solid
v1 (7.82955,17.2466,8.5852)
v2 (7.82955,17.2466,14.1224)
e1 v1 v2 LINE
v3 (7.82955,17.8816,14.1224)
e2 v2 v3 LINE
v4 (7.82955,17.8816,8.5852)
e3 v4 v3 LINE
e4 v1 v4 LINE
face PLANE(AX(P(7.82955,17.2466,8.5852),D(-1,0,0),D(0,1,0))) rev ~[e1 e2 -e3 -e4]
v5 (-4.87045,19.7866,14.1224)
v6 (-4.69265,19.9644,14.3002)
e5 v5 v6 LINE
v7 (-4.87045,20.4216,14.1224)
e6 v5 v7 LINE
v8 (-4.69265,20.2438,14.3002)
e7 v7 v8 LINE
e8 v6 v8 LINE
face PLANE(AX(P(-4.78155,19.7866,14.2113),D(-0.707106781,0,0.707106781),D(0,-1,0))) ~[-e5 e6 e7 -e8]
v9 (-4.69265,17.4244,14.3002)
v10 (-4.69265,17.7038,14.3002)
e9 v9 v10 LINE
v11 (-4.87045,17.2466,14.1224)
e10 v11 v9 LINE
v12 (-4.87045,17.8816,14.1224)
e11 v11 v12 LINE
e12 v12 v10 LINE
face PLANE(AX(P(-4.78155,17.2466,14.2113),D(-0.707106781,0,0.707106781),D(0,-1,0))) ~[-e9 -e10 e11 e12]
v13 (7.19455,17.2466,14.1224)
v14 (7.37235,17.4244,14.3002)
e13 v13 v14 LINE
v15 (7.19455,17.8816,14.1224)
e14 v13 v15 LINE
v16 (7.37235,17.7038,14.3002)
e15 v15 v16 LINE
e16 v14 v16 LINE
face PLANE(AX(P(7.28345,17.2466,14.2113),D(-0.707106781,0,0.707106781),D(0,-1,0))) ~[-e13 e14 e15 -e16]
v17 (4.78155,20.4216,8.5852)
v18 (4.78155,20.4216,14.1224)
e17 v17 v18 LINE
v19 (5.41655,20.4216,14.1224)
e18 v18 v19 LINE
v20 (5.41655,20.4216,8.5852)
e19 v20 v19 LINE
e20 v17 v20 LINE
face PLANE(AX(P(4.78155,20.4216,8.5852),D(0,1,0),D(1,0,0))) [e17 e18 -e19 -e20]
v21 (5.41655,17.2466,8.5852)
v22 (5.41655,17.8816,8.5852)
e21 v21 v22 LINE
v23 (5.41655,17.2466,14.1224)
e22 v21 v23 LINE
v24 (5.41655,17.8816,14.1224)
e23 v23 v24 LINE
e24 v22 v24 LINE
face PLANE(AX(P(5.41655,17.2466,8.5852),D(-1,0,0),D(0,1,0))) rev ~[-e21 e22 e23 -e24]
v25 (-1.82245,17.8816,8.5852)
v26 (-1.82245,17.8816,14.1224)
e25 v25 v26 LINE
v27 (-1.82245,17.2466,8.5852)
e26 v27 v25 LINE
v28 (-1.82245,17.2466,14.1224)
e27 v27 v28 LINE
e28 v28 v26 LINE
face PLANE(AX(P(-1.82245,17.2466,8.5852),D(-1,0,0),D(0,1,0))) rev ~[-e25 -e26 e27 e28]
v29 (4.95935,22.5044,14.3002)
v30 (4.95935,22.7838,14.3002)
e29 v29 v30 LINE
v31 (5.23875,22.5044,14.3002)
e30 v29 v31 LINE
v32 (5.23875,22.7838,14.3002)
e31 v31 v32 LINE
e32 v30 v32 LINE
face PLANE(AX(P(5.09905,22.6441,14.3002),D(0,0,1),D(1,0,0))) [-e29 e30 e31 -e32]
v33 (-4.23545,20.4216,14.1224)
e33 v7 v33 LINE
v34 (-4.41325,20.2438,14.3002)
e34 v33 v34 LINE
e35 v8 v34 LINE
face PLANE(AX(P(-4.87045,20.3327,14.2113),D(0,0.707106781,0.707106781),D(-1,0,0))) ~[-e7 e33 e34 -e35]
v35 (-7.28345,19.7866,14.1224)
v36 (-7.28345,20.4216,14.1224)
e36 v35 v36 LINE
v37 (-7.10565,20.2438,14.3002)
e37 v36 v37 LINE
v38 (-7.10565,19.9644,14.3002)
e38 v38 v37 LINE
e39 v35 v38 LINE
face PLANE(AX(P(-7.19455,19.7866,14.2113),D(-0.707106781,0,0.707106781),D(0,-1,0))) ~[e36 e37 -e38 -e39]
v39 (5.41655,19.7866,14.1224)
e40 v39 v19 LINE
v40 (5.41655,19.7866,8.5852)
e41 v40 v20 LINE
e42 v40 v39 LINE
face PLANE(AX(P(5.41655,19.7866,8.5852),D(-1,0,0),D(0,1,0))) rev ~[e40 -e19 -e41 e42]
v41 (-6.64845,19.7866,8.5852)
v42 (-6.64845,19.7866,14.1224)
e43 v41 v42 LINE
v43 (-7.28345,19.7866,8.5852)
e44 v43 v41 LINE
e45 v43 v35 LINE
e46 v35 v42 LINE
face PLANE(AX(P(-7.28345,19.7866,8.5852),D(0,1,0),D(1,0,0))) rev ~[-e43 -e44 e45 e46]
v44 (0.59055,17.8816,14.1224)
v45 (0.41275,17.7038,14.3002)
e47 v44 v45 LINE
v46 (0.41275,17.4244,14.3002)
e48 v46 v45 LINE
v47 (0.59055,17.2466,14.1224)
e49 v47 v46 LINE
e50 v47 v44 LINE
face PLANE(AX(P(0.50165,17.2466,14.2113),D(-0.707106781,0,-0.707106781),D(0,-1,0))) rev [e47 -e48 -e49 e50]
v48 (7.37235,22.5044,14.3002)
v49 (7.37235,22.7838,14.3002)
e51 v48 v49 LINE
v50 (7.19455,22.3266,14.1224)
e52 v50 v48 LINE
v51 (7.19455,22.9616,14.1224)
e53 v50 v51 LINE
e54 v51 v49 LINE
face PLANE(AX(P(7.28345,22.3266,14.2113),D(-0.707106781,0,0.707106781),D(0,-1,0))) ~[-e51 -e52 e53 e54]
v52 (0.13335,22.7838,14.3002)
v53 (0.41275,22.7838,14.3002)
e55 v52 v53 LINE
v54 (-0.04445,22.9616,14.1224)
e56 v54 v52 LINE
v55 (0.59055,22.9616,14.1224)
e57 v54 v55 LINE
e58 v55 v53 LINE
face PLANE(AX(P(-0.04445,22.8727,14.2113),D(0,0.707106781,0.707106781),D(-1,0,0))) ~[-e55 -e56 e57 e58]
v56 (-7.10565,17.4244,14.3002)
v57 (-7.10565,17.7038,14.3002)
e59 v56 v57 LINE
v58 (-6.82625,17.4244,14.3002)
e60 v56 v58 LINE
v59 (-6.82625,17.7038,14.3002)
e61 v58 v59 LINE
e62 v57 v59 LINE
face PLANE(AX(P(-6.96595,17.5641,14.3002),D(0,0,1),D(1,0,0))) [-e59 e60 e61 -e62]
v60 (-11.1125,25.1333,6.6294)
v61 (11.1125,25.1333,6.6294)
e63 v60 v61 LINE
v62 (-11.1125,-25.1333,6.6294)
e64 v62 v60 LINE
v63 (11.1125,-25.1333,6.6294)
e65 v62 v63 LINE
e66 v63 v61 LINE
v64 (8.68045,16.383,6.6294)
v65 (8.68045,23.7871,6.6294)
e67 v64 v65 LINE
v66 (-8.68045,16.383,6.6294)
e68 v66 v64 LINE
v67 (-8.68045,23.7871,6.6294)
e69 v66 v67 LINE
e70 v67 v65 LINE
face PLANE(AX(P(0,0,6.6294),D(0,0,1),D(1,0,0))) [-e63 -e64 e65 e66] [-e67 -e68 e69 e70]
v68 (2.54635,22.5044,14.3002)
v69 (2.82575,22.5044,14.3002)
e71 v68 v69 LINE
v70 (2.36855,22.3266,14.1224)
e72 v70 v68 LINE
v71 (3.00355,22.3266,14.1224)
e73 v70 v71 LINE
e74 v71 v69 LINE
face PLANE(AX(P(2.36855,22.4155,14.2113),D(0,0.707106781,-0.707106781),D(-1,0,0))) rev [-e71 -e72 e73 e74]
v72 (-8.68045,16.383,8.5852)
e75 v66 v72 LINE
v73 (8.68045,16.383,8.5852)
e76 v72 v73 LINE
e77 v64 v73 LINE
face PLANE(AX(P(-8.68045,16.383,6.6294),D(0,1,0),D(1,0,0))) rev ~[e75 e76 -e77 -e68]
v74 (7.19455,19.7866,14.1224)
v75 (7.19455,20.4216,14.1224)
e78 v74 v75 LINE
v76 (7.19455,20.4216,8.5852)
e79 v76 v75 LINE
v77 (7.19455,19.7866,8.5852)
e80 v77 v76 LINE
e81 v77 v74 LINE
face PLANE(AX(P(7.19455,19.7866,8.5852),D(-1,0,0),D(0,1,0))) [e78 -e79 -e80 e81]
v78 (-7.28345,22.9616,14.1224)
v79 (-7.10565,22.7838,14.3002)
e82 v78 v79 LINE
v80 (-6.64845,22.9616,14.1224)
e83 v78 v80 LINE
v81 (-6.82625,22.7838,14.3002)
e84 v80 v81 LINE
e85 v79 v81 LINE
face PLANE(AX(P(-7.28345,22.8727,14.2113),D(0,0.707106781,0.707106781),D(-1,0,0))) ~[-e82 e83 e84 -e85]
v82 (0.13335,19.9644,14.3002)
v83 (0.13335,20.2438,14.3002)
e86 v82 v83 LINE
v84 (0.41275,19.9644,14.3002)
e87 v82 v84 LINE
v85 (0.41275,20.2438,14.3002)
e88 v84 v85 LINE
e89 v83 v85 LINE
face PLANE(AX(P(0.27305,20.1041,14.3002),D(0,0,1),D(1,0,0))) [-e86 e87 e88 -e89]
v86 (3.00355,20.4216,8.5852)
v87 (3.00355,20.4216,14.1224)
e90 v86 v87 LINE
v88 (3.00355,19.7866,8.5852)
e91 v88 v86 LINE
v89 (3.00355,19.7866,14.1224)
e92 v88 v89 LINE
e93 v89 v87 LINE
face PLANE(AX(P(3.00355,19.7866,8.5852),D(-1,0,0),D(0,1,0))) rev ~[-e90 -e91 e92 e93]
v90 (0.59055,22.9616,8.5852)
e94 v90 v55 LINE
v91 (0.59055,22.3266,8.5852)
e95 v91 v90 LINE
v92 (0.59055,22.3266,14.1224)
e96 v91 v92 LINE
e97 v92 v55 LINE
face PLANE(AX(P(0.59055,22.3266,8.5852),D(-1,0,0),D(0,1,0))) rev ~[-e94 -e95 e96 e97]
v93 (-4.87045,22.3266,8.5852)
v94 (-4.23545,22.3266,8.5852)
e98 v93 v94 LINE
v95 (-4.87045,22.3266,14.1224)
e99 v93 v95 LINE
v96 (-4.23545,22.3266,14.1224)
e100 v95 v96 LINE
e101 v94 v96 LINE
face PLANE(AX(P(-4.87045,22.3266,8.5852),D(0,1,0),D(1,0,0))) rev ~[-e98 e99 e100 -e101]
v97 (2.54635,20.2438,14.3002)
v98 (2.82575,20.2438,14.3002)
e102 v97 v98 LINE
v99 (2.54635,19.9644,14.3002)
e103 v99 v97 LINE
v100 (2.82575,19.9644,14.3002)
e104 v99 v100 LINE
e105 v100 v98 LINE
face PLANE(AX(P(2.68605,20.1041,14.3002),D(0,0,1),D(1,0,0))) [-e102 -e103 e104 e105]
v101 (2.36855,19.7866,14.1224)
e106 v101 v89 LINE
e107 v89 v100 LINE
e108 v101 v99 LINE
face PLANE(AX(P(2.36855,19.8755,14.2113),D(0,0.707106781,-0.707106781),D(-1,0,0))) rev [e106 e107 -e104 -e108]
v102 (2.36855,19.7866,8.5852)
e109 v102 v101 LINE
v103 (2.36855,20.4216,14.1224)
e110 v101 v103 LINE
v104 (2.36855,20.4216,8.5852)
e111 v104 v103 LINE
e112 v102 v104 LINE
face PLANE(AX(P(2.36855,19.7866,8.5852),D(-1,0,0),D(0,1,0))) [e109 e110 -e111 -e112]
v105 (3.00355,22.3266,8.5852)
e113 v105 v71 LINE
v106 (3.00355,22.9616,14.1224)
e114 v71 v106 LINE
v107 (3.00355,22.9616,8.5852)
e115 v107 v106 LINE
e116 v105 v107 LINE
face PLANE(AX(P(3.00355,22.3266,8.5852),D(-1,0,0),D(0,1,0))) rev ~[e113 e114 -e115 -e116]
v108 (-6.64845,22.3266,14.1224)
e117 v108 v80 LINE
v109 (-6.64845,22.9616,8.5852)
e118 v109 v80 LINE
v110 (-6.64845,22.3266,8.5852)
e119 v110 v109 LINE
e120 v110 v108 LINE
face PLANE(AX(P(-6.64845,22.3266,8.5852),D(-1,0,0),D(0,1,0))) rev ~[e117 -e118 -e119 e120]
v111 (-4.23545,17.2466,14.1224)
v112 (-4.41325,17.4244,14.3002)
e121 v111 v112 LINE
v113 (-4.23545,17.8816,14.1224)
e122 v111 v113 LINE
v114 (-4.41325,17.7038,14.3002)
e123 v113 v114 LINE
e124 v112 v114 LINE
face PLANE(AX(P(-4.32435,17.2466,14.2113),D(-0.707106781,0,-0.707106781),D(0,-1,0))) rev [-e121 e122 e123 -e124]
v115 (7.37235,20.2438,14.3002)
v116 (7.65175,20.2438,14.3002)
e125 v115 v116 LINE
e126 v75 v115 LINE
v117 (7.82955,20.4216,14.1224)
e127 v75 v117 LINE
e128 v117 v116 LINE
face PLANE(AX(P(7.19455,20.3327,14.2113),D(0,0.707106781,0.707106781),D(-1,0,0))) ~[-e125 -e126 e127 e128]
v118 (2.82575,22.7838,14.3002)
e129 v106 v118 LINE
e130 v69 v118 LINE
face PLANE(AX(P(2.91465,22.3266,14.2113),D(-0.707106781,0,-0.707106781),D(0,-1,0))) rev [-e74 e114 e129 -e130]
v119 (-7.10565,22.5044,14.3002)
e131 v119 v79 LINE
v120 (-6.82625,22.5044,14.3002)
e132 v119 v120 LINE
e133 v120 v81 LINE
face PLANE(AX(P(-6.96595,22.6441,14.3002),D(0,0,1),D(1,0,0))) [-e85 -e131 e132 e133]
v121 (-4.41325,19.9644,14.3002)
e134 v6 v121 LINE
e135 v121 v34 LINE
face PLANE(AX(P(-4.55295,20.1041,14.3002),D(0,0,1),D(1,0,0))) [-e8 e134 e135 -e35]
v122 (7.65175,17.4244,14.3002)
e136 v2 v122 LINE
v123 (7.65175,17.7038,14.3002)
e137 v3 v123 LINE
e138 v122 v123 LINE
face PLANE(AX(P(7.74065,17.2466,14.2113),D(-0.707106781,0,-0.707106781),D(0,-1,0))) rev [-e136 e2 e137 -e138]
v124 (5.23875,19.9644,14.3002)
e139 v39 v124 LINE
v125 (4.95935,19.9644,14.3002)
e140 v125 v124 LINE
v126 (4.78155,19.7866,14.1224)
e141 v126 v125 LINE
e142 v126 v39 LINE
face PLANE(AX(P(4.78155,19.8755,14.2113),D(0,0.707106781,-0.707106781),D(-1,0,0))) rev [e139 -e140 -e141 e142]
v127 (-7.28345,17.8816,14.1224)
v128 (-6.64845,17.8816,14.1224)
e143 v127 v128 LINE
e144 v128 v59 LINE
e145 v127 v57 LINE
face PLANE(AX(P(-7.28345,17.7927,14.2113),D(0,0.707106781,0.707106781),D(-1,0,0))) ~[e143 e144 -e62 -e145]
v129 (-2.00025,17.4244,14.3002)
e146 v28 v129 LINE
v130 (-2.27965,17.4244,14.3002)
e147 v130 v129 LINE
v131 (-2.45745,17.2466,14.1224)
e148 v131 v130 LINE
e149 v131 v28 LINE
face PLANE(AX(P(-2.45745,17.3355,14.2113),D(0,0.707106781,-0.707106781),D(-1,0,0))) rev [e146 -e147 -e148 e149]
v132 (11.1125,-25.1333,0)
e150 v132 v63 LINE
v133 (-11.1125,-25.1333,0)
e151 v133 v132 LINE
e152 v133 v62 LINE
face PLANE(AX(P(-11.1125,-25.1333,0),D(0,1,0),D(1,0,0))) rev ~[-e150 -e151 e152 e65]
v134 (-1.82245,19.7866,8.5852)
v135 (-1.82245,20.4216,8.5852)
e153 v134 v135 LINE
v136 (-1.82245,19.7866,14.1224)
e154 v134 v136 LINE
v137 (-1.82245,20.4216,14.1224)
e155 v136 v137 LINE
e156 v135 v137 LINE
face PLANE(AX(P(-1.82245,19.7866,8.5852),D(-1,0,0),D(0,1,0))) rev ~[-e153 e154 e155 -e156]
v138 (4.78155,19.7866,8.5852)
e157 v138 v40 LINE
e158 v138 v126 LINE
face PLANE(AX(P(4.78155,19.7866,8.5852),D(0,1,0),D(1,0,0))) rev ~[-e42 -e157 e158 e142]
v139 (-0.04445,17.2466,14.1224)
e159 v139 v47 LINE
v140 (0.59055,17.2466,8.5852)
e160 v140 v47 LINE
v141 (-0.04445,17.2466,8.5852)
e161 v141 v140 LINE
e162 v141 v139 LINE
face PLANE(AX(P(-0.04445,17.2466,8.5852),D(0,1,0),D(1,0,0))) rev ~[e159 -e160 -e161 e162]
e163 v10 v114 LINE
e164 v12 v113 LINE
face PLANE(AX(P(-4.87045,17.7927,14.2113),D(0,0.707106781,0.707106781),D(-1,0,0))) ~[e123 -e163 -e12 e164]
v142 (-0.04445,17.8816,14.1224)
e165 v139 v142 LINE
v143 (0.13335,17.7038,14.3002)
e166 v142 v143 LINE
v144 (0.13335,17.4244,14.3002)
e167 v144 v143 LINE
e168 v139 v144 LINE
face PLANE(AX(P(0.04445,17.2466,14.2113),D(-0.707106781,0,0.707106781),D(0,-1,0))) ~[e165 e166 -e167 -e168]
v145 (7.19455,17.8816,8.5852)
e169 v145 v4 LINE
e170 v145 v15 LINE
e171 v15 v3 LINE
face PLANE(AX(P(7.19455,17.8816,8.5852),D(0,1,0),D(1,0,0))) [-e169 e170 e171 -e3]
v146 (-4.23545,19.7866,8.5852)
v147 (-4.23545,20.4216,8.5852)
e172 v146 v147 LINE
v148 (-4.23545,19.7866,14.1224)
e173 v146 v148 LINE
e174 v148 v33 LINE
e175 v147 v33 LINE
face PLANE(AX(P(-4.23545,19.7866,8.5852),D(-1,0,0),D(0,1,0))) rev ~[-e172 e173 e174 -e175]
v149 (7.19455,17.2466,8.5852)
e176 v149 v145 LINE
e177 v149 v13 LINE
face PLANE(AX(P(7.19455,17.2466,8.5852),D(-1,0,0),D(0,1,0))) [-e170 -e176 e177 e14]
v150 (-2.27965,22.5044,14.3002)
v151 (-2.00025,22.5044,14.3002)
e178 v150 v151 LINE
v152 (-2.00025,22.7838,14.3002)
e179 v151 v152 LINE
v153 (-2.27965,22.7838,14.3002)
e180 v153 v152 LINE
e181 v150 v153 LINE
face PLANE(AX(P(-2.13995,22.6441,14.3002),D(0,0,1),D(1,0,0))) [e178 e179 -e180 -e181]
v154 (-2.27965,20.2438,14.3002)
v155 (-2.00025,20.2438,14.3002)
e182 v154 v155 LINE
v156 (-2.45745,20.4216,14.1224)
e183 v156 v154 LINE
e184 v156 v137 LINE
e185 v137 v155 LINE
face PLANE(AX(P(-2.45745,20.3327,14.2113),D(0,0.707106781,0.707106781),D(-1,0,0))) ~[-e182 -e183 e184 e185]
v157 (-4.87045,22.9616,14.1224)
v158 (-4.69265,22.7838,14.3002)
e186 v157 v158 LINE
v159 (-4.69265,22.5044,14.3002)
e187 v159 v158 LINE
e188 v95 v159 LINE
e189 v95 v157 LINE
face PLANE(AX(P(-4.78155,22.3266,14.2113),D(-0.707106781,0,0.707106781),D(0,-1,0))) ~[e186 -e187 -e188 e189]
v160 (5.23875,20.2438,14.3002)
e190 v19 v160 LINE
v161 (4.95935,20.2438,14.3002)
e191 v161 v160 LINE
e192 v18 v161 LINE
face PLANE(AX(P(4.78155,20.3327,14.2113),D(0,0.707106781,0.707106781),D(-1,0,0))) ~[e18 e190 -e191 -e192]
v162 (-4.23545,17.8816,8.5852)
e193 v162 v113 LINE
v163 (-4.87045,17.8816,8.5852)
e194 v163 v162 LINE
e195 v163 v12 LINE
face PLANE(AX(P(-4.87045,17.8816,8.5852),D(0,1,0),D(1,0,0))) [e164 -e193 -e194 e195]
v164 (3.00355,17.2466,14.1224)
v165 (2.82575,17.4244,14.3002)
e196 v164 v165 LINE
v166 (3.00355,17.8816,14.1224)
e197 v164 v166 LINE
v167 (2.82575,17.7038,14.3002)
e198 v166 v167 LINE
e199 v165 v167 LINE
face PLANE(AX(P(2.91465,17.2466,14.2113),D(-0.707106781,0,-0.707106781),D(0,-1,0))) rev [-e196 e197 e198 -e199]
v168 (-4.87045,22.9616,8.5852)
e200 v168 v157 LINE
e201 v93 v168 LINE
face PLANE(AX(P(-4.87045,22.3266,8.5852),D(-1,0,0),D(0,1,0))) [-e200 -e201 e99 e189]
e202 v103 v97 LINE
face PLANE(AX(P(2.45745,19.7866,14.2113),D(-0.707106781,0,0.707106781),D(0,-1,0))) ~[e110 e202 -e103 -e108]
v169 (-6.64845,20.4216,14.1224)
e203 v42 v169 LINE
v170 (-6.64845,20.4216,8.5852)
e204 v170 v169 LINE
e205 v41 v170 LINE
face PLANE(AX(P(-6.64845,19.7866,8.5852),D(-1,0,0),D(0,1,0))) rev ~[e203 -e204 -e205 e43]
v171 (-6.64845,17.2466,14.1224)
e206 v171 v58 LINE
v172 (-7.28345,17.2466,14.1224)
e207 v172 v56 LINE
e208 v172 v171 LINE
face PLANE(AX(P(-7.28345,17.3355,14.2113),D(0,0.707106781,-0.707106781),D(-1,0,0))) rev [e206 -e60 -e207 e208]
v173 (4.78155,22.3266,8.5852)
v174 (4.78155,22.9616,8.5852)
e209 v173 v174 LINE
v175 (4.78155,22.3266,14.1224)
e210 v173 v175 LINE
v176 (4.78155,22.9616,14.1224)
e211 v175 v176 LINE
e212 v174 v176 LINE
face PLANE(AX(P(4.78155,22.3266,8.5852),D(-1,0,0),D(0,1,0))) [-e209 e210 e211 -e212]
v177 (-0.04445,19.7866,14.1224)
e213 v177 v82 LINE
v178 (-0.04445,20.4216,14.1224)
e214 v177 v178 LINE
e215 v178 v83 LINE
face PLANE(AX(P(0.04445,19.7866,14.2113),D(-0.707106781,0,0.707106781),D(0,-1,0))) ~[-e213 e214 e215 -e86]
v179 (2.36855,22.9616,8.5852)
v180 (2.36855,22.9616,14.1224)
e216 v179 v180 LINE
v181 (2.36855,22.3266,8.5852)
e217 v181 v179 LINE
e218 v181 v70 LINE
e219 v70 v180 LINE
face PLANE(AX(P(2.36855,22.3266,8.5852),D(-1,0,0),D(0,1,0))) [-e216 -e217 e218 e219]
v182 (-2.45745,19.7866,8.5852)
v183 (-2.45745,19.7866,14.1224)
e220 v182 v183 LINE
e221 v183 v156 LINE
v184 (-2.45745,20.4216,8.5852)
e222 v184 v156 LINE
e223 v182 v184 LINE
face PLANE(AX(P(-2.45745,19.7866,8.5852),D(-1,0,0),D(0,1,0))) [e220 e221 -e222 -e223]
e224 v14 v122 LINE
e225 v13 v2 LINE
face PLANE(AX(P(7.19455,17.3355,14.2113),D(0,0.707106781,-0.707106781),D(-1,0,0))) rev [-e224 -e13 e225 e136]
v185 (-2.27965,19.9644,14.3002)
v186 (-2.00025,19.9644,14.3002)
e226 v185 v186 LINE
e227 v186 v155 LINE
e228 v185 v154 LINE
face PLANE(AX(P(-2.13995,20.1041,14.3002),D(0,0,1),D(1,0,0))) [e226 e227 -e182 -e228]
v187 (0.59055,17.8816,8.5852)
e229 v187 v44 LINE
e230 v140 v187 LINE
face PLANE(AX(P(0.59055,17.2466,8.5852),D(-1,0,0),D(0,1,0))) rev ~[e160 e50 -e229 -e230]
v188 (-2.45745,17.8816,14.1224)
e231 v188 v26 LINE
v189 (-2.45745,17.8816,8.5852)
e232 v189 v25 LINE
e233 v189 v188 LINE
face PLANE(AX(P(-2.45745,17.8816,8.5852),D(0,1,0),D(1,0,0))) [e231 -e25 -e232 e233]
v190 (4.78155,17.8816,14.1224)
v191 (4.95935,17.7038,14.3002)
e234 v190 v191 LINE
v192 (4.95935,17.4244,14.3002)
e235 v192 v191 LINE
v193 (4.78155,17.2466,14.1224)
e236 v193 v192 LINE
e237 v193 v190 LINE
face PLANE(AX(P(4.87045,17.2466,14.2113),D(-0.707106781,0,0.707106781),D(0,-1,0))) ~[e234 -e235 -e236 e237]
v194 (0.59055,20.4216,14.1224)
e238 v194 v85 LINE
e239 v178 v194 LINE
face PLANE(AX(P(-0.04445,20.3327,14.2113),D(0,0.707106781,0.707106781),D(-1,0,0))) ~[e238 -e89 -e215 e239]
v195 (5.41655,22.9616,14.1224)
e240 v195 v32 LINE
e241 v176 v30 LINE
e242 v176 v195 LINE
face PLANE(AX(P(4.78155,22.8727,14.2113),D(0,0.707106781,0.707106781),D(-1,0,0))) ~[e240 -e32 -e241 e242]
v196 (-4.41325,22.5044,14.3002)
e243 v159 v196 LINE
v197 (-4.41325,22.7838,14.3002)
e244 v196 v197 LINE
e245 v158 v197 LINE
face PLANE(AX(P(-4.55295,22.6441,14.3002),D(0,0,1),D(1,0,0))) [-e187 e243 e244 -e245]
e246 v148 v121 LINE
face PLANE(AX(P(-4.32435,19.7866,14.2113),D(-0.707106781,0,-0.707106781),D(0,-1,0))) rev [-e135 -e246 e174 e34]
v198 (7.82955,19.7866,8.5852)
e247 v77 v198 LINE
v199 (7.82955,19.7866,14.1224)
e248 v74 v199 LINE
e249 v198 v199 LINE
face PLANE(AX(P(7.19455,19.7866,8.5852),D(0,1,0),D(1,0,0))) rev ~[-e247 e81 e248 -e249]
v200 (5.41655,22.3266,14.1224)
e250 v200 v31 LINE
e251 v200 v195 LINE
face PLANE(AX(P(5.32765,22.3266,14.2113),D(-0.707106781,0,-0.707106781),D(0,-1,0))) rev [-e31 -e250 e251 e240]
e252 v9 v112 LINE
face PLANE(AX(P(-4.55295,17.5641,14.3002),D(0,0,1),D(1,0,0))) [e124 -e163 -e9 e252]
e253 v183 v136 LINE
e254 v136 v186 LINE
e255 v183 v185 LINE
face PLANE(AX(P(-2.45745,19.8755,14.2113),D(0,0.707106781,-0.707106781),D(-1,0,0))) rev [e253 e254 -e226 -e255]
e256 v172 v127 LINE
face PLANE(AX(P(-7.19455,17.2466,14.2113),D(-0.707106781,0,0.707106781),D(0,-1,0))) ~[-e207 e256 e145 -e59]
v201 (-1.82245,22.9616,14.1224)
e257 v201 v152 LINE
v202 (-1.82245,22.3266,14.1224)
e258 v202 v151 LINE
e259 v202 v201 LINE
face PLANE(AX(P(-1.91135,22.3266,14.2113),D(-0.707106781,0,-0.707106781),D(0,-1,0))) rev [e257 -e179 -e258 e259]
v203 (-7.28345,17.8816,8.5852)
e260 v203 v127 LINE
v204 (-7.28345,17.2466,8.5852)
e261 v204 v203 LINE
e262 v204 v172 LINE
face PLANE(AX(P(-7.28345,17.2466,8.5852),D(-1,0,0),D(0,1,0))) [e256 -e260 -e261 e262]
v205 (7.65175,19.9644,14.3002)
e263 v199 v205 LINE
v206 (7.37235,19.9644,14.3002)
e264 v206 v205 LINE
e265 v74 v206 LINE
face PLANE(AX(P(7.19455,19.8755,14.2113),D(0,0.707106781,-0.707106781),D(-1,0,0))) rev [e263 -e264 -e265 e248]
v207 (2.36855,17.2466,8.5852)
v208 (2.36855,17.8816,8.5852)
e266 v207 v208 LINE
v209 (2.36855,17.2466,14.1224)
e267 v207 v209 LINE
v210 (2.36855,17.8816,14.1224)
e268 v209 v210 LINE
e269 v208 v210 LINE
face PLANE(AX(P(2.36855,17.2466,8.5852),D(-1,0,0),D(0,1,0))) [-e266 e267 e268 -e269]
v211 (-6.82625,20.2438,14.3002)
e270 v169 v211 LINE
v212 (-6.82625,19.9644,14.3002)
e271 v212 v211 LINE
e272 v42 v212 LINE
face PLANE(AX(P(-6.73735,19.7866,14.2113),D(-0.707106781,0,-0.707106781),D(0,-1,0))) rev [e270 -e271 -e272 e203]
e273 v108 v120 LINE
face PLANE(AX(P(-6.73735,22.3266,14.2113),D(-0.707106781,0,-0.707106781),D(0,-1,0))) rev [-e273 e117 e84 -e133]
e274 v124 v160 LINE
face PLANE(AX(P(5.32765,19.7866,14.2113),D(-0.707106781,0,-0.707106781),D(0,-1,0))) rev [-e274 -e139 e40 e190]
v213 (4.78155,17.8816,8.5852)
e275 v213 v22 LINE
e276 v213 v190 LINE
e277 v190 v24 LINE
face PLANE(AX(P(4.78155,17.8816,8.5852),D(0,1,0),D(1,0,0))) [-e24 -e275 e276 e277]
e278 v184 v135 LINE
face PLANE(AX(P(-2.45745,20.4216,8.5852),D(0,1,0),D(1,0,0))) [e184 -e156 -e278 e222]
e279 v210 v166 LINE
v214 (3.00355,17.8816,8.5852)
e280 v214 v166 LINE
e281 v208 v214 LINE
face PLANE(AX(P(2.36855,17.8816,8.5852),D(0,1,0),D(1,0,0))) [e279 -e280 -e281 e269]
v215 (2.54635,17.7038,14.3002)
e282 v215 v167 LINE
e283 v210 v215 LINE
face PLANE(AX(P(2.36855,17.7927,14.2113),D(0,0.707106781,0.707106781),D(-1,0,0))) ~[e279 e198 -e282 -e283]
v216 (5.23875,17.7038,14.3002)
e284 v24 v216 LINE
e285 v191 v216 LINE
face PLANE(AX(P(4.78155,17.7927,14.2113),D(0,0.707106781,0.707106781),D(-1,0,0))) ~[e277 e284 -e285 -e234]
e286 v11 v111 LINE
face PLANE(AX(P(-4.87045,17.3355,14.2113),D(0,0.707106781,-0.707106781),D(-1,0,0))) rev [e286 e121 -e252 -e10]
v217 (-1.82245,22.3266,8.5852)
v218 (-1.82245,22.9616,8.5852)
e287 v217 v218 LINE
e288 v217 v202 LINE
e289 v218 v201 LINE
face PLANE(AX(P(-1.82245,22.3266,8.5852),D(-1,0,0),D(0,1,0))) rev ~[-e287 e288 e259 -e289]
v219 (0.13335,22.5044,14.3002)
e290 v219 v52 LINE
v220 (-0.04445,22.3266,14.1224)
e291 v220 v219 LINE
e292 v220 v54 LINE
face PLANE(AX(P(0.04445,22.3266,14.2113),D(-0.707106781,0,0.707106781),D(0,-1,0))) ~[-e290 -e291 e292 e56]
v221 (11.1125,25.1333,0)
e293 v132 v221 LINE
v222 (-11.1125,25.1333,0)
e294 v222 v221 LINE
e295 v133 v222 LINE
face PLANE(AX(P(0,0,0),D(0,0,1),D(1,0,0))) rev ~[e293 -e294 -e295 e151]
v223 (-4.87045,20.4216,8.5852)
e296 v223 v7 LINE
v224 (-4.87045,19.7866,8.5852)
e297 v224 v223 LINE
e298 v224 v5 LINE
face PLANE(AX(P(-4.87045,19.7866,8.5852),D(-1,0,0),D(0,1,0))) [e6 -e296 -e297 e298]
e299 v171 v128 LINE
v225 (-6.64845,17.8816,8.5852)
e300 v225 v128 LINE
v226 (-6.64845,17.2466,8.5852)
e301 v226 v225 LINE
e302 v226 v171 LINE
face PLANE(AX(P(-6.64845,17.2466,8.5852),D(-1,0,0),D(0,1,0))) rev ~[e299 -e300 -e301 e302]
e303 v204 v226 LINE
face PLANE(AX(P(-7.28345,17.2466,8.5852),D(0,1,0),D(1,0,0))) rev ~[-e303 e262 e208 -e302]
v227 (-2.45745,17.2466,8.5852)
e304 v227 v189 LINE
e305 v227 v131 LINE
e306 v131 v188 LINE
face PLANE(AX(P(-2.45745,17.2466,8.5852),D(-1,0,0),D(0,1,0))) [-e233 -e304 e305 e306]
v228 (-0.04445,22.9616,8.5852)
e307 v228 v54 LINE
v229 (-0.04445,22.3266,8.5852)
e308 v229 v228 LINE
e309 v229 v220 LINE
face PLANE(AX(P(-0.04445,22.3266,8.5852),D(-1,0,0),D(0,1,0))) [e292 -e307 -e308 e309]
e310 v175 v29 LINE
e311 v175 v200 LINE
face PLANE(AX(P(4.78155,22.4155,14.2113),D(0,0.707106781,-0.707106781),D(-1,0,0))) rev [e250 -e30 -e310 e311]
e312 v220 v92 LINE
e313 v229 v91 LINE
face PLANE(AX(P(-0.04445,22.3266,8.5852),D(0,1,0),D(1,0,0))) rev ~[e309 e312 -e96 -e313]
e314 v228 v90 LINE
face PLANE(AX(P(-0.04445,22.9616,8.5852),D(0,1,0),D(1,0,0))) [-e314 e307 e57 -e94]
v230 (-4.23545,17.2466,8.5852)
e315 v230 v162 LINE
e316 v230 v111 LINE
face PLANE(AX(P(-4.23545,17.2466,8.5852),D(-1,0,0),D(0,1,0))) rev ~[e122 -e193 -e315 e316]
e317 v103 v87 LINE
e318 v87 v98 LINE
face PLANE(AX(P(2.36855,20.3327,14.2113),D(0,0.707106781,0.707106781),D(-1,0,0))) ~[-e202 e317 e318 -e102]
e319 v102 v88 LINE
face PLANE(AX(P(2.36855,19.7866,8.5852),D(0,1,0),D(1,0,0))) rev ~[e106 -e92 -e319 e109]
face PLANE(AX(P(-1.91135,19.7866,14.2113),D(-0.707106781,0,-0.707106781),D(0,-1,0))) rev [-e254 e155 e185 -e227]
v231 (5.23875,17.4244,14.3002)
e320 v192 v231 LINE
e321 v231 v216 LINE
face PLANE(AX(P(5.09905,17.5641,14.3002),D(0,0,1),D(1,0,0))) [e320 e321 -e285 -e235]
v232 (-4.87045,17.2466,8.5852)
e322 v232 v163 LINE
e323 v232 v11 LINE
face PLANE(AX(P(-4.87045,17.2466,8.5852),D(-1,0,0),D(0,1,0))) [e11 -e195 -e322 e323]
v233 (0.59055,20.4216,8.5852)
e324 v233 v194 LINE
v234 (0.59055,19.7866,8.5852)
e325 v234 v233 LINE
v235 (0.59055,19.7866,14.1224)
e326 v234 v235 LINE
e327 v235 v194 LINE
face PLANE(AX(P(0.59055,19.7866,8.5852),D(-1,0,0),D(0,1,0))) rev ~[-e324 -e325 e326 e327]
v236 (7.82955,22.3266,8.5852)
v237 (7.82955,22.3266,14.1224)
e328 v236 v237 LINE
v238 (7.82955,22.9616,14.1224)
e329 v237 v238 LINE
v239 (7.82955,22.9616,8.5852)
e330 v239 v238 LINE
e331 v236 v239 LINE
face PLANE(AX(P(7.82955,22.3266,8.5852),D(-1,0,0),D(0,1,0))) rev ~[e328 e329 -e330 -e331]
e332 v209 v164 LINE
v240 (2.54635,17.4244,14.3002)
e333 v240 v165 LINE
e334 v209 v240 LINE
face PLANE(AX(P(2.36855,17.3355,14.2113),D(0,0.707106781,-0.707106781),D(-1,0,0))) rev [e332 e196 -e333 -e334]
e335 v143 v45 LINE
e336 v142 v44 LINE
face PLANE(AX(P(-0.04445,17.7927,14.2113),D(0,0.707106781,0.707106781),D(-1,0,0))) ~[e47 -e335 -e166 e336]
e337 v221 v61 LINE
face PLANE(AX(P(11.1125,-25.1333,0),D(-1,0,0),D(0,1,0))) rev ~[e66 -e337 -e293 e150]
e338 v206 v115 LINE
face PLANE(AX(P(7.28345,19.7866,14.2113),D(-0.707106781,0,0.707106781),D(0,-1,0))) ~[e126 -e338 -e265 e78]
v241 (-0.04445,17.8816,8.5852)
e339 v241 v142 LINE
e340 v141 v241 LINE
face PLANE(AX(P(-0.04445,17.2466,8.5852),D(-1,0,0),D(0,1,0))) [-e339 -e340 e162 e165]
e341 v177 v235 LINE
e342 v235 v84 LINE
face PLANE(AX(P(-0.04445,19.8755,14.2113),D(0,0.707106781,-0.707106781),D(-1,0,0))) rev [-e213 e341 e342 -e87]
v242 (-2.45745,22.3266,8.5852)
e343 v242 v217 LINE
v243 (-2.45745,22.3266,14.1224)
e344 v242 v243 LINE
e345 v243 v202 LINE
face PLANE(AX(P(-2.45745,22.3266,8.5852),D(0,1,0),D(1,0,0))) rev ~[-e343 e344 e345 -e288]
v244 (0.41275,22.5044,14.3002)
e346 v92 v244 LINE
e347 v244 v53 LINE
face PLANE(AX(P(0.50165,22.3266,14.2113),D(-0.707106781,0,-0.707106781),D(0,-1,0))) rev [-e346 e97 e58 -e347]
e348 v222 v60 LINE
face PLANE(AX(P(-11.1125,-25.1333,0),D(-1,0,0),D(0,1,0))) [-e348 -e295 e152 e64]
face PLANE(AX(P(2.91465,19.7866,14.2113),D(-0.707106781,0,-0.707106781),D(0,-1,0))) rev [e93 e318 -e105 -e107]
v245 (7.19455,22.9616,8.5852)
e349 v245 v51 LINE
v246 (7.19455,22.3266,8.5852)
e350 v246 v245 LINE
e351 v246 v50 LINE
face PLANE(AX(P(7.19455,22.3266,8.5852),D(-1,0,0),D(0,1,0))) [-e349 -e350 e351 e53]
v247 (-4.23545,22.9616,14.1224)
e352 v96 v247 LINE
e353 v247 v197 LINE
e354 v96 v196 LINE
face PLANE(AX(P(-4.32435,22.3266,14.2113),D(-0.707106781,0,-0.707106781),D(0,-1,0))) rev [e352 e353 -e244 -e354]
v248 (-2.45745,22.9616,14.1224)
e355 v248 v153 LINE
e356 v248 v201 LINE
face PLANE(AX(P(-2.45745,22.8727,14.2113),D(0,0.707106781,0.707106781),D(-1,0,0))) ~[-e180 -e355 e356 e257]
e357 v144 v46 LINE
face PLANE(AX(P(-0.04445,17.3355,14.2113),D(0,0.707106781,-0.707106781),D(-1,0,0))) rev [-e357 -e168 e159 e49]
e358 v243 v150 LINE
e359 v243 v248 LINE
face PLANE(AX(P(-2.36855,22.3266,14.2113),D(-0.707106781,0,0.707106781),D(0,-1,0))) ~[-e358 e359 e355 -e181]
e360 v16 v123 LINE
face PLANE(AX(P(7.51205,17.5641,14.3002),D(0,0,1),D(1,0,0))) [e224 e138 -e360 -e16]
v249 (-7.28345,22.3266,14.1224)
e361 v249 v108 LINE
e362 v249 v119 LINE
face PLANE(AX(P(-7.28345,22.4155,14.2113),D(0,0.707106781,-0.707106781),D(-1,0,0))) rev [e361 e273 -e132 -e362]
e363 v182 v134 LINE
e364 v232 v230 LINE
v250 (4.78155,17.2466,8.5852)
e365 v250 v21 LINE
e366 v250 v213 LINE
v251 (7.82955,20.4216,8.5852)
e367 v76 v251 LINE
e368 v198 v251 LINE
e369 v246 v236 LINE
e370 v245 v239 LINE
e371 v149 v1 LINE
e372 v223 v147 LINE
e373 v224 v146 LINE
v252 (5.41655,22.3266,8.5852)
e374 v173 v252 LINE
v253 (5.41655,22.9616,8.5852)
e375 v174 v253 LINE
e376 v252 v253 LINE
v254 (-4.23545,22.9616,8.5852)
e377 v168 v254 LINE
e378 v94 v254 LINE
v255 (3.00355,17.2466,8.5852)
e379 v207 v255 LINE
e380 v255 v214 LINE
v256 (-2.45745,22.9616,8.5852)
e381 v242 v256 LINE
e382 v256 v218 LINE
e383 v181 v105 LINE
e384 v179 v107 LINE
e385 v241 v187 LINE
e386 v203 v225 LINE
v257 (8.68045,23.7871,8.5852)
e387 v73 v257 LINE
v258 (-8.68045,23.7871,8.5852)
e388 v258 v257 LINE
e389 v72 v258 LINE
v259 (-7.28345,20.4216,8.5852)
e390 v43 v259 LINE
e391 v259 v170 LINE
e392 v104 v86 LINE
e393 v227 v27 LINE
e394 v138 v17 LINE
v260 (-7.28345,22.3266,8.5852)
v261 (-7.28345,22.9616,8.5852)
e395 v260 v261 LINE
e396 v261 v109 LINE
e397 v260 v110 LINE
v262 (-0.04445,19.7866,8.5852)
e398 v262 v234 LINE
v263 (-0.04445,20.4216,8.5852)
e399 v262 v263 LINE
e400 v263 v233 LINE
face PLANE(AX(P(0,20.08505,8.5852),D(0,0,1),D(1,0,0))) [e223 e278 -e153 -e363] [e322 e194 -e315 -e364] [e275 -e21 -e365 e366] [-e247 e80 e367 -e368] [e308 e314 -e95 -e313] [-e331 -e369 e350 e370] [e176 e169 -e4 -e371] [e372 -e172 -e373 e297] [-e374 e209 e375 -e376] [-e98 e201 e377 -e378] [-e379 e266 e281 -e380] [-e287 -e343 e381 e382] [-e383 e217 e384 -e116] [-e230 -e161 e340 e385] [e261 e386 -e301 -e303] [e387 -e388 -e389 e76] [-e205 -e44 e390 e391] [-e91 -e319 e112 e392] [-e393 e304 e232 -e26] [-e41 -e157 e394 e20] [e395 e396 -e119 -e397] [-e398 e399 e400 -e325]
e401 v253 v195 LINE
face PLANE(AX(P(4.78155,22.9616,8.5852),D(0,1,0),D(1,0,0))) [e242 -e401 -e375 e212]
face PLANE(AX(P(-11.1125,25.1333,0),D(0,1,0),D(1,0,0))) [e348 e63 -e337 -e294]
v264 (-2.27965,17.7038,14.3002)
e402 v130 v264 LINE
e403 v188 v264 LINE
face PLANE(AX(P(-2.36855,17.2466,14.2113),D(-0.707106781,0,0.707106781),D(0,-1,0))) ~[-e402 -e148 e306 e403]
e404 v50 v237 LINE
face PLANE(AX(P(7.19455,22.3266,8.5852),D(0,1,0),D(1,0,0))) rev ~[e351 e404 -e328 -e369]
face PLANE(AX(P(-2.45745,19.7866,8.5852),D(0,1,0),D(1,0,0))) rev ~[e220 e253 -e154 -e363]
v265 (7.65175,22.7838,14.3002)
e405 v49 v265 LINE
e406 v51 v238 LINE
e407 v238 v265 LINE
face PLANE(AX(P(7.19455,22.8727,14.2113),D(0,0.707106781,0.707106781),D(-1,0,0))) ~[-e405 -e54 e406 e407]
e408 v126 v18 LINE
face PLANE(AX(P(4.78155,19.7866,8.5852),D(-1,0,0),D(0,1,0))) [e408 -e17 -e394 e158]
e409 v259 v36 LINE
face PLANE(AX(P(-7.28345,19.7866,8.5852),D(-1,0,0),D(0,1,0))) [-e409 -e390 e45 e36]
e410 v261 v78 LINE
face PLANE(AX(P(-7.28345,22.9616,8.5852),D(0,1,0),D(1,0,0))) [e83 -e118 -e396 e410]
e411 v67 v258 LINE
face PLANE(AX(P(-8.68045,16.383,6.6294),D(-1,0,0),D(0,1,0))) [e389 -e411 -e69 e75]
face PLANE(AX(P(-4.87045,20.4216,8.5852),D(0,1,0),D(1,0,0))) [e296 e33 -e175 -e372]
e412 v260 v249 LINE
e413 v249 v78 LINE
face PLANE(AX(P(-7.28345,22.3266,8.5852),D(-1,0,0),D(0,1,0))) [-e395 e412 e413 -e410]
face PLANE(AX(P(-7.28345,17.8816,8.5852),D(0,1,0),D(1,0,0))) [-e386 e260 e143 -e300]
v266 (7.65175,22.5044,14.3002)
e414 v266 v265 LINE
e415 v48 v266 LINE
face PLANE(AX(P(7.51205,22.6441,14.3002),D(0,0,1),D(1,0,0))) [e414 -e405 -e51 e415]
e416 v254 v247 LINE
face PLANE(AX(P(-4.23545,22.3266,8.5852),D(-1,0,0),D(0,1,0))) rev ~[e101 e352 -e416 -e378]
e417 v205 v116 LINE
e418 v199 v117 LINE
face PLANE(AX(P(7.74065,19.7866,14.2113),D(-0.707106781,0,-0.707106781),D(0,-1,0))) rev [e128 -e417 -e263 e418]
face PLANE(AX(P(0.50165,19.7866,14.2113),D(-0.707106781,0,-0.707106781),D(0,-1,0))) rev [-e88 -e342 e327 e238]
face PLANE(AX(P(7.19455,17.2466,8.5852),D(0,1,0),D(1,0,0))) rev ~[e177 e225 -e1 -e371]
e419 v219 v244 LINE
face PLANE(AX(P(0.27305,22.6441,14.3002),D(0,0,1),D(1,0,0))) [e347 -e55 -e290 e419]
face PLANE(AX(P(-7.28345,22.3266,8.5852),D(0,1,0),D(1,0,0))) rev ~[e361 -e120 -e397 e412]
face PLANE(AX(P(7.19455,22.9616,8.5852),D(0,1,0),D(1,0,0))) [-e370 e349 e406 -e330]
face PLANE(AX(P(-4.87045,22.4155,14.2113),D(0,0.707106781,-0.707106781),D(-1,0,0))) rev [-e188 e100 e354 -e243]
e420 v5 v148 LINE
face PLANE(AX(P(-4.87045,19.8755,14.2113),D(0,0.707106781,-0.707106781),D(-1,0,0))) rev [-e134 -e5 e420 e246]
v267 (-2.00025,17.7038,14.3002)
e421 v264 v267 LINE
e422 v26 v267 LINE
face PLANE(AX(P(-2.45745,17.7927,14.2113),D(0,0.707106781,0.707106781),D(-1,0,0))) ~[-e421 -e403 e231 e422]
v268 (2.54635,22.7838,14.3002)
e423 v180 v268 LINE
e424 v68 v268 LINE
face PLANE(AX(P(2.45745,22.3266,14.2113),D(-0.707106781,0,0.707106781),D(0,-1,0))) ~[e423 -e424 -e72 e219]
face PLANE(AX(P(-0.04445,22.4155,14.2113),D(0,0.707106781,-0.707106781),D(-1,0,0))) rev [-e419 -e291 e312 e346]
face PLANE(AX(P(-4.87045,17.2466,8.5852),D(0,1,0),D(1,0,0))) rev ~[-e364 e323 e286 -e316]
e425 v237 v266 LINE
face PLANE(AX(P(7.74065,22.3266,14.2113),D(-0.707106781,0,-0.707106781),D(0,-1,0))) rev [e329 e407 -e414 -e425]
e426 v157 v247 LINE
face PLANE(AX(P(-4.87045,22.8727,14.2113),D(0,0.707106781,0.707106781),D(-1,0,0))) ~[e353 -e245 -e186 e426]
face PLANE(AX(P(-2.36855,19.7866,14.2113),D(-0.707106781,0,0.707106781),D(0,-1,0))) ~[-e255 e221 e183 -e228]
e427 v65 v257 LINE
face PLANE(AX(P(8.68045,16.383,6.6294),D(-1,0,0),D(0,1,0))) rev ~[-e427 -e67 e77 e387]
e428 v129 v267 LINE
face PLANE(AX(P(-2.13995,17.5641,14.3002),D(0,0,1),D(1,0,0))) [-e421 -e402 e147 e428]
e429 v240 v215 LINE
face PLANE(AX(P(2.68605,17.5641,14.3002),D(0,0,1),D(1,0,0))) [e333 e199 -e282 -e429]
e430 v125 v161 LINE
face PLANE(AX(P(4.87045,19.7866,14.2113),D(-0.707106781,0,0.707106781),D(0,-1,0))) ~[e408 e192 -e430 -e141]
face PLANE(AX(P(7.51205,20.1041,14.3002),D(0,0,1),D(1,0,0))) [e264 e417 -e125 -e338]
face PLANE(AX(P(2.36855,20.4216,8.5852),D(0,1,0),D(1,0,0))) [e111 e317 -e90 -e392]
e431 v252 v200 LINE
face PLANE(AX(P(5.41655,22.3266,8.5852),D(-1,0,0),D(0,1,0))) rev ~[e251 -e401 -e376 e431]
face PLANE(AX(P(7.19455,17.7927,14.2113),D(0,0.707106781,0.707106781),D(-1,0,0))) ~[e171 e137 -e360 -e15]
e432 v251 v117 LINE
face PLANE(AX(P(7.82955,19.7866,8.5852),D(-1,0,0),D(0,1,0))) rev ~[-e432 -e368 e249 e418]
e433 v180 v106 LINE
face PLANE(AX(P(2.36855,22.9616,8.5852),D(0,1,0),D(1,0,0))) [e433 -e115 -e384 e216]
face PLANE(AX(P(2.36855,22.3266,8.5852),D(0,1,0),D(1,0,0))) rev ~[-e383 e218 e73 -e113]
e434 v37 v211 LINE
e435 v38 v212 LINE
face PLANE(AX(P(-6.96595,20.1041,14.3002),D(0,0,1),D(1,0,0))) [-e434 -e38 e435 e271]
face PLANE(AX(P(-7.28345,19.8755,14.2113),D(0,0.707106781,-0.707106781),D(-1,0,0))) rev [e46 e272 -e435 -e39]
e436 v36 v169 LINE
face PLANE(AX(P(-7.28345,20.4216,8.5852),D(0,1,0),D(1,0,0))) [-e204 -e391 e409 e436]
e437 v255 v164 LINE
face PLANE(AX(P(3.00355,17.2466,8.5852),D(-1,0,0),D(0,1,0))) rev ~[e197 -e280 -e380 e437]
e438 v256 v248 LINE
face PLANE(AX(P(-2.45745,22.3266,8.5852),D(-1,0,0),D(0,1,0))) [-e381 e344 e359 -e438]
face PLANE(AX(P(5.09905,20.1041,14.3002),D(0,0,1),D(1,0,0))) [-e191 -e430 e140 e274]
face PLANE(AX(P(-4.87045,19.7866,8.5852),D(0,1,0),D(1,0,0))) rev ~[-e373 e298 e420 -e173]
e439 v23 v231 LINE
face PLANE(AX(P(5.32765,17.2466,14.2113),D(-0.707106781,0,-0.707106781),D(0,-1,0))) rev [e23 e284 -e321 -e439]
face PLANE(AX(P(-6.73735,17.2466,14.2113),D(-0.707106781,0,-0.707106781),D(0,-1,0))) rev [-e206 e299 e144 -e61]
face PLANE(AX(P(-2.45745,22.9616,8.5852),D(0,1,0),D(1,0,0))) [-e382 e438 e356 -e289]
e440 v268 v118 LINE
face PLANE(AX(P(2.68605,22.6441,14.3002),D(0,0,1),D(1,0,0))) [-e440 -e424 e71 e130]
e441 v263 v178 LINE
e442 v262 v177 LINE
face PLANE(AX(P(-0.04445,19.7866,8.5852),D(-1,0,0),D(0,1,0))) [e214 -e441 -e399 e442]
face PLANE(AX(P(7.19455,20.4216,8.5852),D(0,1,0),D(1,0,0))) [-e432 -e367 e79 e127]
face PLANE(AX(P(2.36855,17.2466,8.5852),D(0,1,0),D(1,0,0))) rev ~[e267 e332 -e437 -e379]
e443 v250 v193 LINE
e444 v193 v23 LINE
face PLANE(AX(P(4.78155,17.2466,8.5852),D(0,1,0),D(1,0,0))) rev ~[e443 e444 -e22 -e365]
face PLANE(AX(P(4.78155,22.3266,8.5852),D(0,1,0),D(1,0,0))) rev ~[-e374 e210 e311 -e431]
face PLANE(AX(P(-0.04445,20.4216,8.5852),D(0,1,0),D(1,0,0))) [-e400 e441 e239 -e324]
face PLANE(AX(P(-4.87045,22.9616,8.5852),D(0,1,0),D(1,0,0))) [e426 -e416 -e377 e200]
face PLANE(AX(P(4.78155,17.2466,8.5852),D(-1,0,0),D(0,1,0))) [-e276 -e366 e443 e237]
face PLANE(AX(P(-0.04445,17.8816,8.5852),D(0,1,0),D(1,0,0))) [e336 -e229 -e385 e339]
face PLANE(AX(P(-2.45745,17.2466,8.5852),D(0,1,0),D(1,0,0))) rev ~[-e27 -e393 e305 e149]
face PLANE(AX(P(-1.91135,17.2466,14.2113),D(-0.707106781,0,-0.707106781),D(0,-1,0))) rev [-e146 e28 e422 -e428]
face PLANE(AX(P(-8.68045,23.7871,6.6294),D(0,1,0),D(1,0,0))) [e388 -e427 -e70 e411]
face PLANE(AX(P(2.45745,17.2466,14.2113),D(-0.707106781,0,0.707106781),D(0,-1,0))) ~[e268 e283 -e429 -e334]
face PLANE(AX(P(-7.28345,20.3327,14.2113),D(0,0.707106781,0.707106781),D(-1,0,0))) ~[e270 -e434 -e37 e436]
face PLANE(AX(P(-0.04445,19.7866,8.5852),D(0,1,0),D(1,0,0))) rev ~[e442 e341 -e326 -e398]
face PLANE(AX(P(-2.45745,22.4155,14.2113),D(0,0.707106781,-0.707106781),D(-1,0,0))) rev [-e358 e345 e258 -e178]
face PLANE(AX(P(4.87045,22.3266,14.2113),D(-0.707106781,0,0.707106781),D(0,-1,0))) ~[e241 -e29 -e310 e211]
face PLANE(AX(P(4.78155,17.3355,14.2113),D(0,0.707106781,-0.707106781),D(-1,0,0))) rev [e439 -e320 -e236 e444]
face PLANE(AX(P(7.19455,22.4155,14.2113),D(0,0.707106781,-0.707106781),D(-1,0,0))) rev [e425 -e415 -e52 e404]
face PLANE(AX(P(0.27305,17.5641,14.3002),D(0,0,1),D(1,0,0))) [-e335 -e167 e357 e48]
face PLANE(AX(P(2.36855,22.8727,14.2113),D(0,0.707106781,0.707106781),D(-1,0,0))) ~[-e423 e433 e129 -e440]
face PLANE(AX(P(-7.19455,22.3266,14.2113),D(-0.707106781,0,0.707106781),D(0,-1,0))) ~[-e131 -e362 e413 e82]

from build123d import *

# Parameters (mm, degrees)
F0_W     = 22.225
F0_H     = 50.2666
F1_DEPTH = 6.6294
F2_W     = 17.3609
F2_H     = 7.4041
F3_DEPTH = 1.9558
F4_W     = 0.635
F4_H     = 0.635
F5_DEPTH = 5.715
F6_SIZE  = 0.1778


with BuildPart() as f1:
    # F0 (on Top) → F1 (new body)
    with BuildSketch(Plane.XY):
        Rectangle(F0_W, F0_H)
    extrude(amount=F1_DEPTH)

    # F2 (on face) → F3 (join)
    with BuildSketch(Plane.XY.offset(6.6294)):
        with Locations((0, 20.08505)):
            Rectangle(F2_W, F2_H)
    extrude(amount=F3_DEPTH)

    # F4 (on face) → F5 (join)
    with BuildSketch(Plane.XY.offset(8.5852)):
        with Locations((7.51205, 22.6441)):
            Rectangle(F4_W, F4_H)
        with Locations((5.09905, 22.6441)):
            Rectangle(F4_W, F4_H)
        with Locations((2.68605, 22.6441)):
            Rectangle(F4_W, F4_H)
        with Locations((0.27305, 22.6441)):
            Rectangle(F4_W, F4_H)
        with Locations((-2.13995, 22.6441)):
            Rectangle(F4_W, F4_H)
        with Locations((-4.55295, 22.6441)):
            Rectangle(F4_W, F4_H)
        with Locations((-6.96595, 22.6441)):
            Rectangle(F4_W, F4_H)
        with Locations((-6.96595, 20.1041)):
            Rectangle(F4_W, F4_H)
        with Locations((-4.55295, 20.1041)):
            Rectangle(F4_W, F4_H)
        with Locations((-2.13995, 20.1041)):
            Rectangle(F4_W, F4_H)
        with Locations((0.27305, 20.1041)):
            Rectangle(F4_W, F4_H)
        with Locations((2.68605, 20.1041)):
            Rectangle(F4_W, F4_H)
        with Locations((5.09905, 20.1041)):
            Rectangle(F4_W, F4_H)
        with Locations((7.51205, 20.1041)):
            Rectangle(F4_W, F4_H)
        with Locations((-6.96595, 17.5641)):
            Rectangle(F4_W, F4_H)
        with Locations((-4.55295, 17.5641)):
            Rectangle(F4_W, F4_H)
        with Locations((-2.13995, 17.5641)):
            Rectangle(F4_W, F4_H)
        with Locations((0.27305, 17.5641)):
            Rectangle(F4_W, F4_H)
        with Locations((2.68605, 17.5641)):
            Rectangle(F4_W, F4_H)
        with Locations((5.09905, 17.5641)):
            Rectangle(F4_W, F4_H)
        with Locations((7.51205, 17.5641)):
            Rectangle(F4_W, F4_H)
    extrude(amount=F5_DEPTH)

    # F6
    f6_edges = [f1.edges().sort_by_distance(p)[0] for p in [
        (-6.96595, 22.9616, 14.3002),
        (-7.28345, 22.6441, 14.3002),
        (-6.96595, 22.3266, 14.3002),
        (-6.64845, 22.6441, 14.3002),
        (-6.64845, 20.1041, 14.3002),
        (-6.96595, 20.4216, 14.3002),
        (-7.28345, 20.1041, 14.3002),
        (-6.96595, 19.7866, 14.3002),
        (-4.55295, 22.9616, 14.3002),
        (-4.87045, 22.6441, 14.3002),
        (-4.55295, 22.3266, 14.3002),
        (-4.23545, 22.6441, 14.3002),
        (-4.55295, 20.4216, 14.3002),
        (-4.87045, 20.1041, 14.3002),
        (-4.55295, 19.7866, 14.3002),
        (-4.23545, 20.1041, 14.3002),
        (-6.64845, 17.5641, 14.3002),
        (-6.96595, 17.8816, 14.3002),
        (-7.28345, 17.5641, 14.3002),
        (-6.96595, 17.2466, 14.3002),
        (-4.55295, 17.8816, 14.3002),
        (-4.87045, 17.5641, 14.3002),
        (-4.55295, 17.2466, 14.3002),
        (-4.23545, 17.5641, 14.3002),
        (-2.13995, 20.4216, 14.3002),
        (-2.45745, 20.1041, 14.3002),
        (-2.13995, 19.7866, 14.3002),
        (-1.82245, 20.1041, 14.3002),
        (-2.13995, 22.9616, 14.3002),
        (-2.45745, 22.6441, 14.3002),
        (-2.13995, 22.3266, 14.3002),
        (-1.82245, 22.6441, 14.3002),
        (-2.13995, 17.8816, 14.3002),
        (-2.45745, 17.5641, 14.3002),
        (-2.13995, 17.2466, 14.3002),
        (-1.82245, 17.5641, 14.3002),
        (0.27305, 17.8816, 14.3002),
        (-0.04445, 17.5641, 14.3002),
        (0.27305, 17.2466, 14.3002),
        (0.59055, 17.5641, 14.3002),
        (0.27305, 20.4216, 14.3002),
        (-0.04445, 20.1041, 14.3002),
        (0.27305, 19.7866, 14.3002),
        (0.59055, 20.1041, 14.3002),
        (0.27305, 22.9616, 14.3002),
        (-0.04445, 22.6441, 14.3002),
        (0.27305, 22.3266, 14.3002),
        (0.59055, 22.6441, 14.3002),
        (2.68605, 22.9616, 14.3002),
        (2.36855, 22.6441, 14.3002),
        (2.68605, 22.3266, 14.3002),
        (3.00355, 22.6441, 14.3002),
        (2.36855, 20.1041, 14.3002),
        (2.68605, 19.7866, 14.3002),
        (2.68605, 20.4216, 14.3002),
        (3.00355, 20.1041, 14.3002),
        (2.68605, 17.8816, 14.3002),
        (2.36855, 17.5641, 14.3002),
        (2.68605, 17.2466, 14.3002),
        (3.00355, 17.5641, 14.3002),
        (5.09905, 20.4216, 14.3002),
        (4.78155, 20.1041, 14.3002),
        (5.09905, 19.7866, 14.3002),
        (5.41655, 20.1041, 14.3002),
        (5.09905, 17.8816, 14.3002),
        (4.78155, 17.5641, 14.3002),
        (5.09905, 17.2466, 14.3002),
        (5.41655, 17.5641, 14.3002),
        (5.09905, 22.9616, 14.3002),
        (4.78155, 22.6441, 14.3002),
        (5.09905, 22.3266, 14.3002),
        (5.41655, 22.6441, 14.3002),
        (7.19455, 20.1041, 14.3002),
        (7.51205, 19.7866, 14.3002),
        (7.82955, 20.1041, 14.3002),
        (7.51205, 20.4216, 14.3002),
        (7.19455, 17.5641, 14.3002),
        (7.51205, 17.2466, 14.3002),
        (7.82955, 17.5641, 14.3002),
        (7.51205, 17.8816, 14.3002),
        (7.51205, 22.9616, 14.3002),
        (7.19455, 22.6441, 14.3002),
        (7.51205, 22.3266, 14.3002),
        (7.82955, 22.6441, 14.3002),
    ]]
    chamfer(f6_edges, length=F6_SIZE)


solid = f1.part
